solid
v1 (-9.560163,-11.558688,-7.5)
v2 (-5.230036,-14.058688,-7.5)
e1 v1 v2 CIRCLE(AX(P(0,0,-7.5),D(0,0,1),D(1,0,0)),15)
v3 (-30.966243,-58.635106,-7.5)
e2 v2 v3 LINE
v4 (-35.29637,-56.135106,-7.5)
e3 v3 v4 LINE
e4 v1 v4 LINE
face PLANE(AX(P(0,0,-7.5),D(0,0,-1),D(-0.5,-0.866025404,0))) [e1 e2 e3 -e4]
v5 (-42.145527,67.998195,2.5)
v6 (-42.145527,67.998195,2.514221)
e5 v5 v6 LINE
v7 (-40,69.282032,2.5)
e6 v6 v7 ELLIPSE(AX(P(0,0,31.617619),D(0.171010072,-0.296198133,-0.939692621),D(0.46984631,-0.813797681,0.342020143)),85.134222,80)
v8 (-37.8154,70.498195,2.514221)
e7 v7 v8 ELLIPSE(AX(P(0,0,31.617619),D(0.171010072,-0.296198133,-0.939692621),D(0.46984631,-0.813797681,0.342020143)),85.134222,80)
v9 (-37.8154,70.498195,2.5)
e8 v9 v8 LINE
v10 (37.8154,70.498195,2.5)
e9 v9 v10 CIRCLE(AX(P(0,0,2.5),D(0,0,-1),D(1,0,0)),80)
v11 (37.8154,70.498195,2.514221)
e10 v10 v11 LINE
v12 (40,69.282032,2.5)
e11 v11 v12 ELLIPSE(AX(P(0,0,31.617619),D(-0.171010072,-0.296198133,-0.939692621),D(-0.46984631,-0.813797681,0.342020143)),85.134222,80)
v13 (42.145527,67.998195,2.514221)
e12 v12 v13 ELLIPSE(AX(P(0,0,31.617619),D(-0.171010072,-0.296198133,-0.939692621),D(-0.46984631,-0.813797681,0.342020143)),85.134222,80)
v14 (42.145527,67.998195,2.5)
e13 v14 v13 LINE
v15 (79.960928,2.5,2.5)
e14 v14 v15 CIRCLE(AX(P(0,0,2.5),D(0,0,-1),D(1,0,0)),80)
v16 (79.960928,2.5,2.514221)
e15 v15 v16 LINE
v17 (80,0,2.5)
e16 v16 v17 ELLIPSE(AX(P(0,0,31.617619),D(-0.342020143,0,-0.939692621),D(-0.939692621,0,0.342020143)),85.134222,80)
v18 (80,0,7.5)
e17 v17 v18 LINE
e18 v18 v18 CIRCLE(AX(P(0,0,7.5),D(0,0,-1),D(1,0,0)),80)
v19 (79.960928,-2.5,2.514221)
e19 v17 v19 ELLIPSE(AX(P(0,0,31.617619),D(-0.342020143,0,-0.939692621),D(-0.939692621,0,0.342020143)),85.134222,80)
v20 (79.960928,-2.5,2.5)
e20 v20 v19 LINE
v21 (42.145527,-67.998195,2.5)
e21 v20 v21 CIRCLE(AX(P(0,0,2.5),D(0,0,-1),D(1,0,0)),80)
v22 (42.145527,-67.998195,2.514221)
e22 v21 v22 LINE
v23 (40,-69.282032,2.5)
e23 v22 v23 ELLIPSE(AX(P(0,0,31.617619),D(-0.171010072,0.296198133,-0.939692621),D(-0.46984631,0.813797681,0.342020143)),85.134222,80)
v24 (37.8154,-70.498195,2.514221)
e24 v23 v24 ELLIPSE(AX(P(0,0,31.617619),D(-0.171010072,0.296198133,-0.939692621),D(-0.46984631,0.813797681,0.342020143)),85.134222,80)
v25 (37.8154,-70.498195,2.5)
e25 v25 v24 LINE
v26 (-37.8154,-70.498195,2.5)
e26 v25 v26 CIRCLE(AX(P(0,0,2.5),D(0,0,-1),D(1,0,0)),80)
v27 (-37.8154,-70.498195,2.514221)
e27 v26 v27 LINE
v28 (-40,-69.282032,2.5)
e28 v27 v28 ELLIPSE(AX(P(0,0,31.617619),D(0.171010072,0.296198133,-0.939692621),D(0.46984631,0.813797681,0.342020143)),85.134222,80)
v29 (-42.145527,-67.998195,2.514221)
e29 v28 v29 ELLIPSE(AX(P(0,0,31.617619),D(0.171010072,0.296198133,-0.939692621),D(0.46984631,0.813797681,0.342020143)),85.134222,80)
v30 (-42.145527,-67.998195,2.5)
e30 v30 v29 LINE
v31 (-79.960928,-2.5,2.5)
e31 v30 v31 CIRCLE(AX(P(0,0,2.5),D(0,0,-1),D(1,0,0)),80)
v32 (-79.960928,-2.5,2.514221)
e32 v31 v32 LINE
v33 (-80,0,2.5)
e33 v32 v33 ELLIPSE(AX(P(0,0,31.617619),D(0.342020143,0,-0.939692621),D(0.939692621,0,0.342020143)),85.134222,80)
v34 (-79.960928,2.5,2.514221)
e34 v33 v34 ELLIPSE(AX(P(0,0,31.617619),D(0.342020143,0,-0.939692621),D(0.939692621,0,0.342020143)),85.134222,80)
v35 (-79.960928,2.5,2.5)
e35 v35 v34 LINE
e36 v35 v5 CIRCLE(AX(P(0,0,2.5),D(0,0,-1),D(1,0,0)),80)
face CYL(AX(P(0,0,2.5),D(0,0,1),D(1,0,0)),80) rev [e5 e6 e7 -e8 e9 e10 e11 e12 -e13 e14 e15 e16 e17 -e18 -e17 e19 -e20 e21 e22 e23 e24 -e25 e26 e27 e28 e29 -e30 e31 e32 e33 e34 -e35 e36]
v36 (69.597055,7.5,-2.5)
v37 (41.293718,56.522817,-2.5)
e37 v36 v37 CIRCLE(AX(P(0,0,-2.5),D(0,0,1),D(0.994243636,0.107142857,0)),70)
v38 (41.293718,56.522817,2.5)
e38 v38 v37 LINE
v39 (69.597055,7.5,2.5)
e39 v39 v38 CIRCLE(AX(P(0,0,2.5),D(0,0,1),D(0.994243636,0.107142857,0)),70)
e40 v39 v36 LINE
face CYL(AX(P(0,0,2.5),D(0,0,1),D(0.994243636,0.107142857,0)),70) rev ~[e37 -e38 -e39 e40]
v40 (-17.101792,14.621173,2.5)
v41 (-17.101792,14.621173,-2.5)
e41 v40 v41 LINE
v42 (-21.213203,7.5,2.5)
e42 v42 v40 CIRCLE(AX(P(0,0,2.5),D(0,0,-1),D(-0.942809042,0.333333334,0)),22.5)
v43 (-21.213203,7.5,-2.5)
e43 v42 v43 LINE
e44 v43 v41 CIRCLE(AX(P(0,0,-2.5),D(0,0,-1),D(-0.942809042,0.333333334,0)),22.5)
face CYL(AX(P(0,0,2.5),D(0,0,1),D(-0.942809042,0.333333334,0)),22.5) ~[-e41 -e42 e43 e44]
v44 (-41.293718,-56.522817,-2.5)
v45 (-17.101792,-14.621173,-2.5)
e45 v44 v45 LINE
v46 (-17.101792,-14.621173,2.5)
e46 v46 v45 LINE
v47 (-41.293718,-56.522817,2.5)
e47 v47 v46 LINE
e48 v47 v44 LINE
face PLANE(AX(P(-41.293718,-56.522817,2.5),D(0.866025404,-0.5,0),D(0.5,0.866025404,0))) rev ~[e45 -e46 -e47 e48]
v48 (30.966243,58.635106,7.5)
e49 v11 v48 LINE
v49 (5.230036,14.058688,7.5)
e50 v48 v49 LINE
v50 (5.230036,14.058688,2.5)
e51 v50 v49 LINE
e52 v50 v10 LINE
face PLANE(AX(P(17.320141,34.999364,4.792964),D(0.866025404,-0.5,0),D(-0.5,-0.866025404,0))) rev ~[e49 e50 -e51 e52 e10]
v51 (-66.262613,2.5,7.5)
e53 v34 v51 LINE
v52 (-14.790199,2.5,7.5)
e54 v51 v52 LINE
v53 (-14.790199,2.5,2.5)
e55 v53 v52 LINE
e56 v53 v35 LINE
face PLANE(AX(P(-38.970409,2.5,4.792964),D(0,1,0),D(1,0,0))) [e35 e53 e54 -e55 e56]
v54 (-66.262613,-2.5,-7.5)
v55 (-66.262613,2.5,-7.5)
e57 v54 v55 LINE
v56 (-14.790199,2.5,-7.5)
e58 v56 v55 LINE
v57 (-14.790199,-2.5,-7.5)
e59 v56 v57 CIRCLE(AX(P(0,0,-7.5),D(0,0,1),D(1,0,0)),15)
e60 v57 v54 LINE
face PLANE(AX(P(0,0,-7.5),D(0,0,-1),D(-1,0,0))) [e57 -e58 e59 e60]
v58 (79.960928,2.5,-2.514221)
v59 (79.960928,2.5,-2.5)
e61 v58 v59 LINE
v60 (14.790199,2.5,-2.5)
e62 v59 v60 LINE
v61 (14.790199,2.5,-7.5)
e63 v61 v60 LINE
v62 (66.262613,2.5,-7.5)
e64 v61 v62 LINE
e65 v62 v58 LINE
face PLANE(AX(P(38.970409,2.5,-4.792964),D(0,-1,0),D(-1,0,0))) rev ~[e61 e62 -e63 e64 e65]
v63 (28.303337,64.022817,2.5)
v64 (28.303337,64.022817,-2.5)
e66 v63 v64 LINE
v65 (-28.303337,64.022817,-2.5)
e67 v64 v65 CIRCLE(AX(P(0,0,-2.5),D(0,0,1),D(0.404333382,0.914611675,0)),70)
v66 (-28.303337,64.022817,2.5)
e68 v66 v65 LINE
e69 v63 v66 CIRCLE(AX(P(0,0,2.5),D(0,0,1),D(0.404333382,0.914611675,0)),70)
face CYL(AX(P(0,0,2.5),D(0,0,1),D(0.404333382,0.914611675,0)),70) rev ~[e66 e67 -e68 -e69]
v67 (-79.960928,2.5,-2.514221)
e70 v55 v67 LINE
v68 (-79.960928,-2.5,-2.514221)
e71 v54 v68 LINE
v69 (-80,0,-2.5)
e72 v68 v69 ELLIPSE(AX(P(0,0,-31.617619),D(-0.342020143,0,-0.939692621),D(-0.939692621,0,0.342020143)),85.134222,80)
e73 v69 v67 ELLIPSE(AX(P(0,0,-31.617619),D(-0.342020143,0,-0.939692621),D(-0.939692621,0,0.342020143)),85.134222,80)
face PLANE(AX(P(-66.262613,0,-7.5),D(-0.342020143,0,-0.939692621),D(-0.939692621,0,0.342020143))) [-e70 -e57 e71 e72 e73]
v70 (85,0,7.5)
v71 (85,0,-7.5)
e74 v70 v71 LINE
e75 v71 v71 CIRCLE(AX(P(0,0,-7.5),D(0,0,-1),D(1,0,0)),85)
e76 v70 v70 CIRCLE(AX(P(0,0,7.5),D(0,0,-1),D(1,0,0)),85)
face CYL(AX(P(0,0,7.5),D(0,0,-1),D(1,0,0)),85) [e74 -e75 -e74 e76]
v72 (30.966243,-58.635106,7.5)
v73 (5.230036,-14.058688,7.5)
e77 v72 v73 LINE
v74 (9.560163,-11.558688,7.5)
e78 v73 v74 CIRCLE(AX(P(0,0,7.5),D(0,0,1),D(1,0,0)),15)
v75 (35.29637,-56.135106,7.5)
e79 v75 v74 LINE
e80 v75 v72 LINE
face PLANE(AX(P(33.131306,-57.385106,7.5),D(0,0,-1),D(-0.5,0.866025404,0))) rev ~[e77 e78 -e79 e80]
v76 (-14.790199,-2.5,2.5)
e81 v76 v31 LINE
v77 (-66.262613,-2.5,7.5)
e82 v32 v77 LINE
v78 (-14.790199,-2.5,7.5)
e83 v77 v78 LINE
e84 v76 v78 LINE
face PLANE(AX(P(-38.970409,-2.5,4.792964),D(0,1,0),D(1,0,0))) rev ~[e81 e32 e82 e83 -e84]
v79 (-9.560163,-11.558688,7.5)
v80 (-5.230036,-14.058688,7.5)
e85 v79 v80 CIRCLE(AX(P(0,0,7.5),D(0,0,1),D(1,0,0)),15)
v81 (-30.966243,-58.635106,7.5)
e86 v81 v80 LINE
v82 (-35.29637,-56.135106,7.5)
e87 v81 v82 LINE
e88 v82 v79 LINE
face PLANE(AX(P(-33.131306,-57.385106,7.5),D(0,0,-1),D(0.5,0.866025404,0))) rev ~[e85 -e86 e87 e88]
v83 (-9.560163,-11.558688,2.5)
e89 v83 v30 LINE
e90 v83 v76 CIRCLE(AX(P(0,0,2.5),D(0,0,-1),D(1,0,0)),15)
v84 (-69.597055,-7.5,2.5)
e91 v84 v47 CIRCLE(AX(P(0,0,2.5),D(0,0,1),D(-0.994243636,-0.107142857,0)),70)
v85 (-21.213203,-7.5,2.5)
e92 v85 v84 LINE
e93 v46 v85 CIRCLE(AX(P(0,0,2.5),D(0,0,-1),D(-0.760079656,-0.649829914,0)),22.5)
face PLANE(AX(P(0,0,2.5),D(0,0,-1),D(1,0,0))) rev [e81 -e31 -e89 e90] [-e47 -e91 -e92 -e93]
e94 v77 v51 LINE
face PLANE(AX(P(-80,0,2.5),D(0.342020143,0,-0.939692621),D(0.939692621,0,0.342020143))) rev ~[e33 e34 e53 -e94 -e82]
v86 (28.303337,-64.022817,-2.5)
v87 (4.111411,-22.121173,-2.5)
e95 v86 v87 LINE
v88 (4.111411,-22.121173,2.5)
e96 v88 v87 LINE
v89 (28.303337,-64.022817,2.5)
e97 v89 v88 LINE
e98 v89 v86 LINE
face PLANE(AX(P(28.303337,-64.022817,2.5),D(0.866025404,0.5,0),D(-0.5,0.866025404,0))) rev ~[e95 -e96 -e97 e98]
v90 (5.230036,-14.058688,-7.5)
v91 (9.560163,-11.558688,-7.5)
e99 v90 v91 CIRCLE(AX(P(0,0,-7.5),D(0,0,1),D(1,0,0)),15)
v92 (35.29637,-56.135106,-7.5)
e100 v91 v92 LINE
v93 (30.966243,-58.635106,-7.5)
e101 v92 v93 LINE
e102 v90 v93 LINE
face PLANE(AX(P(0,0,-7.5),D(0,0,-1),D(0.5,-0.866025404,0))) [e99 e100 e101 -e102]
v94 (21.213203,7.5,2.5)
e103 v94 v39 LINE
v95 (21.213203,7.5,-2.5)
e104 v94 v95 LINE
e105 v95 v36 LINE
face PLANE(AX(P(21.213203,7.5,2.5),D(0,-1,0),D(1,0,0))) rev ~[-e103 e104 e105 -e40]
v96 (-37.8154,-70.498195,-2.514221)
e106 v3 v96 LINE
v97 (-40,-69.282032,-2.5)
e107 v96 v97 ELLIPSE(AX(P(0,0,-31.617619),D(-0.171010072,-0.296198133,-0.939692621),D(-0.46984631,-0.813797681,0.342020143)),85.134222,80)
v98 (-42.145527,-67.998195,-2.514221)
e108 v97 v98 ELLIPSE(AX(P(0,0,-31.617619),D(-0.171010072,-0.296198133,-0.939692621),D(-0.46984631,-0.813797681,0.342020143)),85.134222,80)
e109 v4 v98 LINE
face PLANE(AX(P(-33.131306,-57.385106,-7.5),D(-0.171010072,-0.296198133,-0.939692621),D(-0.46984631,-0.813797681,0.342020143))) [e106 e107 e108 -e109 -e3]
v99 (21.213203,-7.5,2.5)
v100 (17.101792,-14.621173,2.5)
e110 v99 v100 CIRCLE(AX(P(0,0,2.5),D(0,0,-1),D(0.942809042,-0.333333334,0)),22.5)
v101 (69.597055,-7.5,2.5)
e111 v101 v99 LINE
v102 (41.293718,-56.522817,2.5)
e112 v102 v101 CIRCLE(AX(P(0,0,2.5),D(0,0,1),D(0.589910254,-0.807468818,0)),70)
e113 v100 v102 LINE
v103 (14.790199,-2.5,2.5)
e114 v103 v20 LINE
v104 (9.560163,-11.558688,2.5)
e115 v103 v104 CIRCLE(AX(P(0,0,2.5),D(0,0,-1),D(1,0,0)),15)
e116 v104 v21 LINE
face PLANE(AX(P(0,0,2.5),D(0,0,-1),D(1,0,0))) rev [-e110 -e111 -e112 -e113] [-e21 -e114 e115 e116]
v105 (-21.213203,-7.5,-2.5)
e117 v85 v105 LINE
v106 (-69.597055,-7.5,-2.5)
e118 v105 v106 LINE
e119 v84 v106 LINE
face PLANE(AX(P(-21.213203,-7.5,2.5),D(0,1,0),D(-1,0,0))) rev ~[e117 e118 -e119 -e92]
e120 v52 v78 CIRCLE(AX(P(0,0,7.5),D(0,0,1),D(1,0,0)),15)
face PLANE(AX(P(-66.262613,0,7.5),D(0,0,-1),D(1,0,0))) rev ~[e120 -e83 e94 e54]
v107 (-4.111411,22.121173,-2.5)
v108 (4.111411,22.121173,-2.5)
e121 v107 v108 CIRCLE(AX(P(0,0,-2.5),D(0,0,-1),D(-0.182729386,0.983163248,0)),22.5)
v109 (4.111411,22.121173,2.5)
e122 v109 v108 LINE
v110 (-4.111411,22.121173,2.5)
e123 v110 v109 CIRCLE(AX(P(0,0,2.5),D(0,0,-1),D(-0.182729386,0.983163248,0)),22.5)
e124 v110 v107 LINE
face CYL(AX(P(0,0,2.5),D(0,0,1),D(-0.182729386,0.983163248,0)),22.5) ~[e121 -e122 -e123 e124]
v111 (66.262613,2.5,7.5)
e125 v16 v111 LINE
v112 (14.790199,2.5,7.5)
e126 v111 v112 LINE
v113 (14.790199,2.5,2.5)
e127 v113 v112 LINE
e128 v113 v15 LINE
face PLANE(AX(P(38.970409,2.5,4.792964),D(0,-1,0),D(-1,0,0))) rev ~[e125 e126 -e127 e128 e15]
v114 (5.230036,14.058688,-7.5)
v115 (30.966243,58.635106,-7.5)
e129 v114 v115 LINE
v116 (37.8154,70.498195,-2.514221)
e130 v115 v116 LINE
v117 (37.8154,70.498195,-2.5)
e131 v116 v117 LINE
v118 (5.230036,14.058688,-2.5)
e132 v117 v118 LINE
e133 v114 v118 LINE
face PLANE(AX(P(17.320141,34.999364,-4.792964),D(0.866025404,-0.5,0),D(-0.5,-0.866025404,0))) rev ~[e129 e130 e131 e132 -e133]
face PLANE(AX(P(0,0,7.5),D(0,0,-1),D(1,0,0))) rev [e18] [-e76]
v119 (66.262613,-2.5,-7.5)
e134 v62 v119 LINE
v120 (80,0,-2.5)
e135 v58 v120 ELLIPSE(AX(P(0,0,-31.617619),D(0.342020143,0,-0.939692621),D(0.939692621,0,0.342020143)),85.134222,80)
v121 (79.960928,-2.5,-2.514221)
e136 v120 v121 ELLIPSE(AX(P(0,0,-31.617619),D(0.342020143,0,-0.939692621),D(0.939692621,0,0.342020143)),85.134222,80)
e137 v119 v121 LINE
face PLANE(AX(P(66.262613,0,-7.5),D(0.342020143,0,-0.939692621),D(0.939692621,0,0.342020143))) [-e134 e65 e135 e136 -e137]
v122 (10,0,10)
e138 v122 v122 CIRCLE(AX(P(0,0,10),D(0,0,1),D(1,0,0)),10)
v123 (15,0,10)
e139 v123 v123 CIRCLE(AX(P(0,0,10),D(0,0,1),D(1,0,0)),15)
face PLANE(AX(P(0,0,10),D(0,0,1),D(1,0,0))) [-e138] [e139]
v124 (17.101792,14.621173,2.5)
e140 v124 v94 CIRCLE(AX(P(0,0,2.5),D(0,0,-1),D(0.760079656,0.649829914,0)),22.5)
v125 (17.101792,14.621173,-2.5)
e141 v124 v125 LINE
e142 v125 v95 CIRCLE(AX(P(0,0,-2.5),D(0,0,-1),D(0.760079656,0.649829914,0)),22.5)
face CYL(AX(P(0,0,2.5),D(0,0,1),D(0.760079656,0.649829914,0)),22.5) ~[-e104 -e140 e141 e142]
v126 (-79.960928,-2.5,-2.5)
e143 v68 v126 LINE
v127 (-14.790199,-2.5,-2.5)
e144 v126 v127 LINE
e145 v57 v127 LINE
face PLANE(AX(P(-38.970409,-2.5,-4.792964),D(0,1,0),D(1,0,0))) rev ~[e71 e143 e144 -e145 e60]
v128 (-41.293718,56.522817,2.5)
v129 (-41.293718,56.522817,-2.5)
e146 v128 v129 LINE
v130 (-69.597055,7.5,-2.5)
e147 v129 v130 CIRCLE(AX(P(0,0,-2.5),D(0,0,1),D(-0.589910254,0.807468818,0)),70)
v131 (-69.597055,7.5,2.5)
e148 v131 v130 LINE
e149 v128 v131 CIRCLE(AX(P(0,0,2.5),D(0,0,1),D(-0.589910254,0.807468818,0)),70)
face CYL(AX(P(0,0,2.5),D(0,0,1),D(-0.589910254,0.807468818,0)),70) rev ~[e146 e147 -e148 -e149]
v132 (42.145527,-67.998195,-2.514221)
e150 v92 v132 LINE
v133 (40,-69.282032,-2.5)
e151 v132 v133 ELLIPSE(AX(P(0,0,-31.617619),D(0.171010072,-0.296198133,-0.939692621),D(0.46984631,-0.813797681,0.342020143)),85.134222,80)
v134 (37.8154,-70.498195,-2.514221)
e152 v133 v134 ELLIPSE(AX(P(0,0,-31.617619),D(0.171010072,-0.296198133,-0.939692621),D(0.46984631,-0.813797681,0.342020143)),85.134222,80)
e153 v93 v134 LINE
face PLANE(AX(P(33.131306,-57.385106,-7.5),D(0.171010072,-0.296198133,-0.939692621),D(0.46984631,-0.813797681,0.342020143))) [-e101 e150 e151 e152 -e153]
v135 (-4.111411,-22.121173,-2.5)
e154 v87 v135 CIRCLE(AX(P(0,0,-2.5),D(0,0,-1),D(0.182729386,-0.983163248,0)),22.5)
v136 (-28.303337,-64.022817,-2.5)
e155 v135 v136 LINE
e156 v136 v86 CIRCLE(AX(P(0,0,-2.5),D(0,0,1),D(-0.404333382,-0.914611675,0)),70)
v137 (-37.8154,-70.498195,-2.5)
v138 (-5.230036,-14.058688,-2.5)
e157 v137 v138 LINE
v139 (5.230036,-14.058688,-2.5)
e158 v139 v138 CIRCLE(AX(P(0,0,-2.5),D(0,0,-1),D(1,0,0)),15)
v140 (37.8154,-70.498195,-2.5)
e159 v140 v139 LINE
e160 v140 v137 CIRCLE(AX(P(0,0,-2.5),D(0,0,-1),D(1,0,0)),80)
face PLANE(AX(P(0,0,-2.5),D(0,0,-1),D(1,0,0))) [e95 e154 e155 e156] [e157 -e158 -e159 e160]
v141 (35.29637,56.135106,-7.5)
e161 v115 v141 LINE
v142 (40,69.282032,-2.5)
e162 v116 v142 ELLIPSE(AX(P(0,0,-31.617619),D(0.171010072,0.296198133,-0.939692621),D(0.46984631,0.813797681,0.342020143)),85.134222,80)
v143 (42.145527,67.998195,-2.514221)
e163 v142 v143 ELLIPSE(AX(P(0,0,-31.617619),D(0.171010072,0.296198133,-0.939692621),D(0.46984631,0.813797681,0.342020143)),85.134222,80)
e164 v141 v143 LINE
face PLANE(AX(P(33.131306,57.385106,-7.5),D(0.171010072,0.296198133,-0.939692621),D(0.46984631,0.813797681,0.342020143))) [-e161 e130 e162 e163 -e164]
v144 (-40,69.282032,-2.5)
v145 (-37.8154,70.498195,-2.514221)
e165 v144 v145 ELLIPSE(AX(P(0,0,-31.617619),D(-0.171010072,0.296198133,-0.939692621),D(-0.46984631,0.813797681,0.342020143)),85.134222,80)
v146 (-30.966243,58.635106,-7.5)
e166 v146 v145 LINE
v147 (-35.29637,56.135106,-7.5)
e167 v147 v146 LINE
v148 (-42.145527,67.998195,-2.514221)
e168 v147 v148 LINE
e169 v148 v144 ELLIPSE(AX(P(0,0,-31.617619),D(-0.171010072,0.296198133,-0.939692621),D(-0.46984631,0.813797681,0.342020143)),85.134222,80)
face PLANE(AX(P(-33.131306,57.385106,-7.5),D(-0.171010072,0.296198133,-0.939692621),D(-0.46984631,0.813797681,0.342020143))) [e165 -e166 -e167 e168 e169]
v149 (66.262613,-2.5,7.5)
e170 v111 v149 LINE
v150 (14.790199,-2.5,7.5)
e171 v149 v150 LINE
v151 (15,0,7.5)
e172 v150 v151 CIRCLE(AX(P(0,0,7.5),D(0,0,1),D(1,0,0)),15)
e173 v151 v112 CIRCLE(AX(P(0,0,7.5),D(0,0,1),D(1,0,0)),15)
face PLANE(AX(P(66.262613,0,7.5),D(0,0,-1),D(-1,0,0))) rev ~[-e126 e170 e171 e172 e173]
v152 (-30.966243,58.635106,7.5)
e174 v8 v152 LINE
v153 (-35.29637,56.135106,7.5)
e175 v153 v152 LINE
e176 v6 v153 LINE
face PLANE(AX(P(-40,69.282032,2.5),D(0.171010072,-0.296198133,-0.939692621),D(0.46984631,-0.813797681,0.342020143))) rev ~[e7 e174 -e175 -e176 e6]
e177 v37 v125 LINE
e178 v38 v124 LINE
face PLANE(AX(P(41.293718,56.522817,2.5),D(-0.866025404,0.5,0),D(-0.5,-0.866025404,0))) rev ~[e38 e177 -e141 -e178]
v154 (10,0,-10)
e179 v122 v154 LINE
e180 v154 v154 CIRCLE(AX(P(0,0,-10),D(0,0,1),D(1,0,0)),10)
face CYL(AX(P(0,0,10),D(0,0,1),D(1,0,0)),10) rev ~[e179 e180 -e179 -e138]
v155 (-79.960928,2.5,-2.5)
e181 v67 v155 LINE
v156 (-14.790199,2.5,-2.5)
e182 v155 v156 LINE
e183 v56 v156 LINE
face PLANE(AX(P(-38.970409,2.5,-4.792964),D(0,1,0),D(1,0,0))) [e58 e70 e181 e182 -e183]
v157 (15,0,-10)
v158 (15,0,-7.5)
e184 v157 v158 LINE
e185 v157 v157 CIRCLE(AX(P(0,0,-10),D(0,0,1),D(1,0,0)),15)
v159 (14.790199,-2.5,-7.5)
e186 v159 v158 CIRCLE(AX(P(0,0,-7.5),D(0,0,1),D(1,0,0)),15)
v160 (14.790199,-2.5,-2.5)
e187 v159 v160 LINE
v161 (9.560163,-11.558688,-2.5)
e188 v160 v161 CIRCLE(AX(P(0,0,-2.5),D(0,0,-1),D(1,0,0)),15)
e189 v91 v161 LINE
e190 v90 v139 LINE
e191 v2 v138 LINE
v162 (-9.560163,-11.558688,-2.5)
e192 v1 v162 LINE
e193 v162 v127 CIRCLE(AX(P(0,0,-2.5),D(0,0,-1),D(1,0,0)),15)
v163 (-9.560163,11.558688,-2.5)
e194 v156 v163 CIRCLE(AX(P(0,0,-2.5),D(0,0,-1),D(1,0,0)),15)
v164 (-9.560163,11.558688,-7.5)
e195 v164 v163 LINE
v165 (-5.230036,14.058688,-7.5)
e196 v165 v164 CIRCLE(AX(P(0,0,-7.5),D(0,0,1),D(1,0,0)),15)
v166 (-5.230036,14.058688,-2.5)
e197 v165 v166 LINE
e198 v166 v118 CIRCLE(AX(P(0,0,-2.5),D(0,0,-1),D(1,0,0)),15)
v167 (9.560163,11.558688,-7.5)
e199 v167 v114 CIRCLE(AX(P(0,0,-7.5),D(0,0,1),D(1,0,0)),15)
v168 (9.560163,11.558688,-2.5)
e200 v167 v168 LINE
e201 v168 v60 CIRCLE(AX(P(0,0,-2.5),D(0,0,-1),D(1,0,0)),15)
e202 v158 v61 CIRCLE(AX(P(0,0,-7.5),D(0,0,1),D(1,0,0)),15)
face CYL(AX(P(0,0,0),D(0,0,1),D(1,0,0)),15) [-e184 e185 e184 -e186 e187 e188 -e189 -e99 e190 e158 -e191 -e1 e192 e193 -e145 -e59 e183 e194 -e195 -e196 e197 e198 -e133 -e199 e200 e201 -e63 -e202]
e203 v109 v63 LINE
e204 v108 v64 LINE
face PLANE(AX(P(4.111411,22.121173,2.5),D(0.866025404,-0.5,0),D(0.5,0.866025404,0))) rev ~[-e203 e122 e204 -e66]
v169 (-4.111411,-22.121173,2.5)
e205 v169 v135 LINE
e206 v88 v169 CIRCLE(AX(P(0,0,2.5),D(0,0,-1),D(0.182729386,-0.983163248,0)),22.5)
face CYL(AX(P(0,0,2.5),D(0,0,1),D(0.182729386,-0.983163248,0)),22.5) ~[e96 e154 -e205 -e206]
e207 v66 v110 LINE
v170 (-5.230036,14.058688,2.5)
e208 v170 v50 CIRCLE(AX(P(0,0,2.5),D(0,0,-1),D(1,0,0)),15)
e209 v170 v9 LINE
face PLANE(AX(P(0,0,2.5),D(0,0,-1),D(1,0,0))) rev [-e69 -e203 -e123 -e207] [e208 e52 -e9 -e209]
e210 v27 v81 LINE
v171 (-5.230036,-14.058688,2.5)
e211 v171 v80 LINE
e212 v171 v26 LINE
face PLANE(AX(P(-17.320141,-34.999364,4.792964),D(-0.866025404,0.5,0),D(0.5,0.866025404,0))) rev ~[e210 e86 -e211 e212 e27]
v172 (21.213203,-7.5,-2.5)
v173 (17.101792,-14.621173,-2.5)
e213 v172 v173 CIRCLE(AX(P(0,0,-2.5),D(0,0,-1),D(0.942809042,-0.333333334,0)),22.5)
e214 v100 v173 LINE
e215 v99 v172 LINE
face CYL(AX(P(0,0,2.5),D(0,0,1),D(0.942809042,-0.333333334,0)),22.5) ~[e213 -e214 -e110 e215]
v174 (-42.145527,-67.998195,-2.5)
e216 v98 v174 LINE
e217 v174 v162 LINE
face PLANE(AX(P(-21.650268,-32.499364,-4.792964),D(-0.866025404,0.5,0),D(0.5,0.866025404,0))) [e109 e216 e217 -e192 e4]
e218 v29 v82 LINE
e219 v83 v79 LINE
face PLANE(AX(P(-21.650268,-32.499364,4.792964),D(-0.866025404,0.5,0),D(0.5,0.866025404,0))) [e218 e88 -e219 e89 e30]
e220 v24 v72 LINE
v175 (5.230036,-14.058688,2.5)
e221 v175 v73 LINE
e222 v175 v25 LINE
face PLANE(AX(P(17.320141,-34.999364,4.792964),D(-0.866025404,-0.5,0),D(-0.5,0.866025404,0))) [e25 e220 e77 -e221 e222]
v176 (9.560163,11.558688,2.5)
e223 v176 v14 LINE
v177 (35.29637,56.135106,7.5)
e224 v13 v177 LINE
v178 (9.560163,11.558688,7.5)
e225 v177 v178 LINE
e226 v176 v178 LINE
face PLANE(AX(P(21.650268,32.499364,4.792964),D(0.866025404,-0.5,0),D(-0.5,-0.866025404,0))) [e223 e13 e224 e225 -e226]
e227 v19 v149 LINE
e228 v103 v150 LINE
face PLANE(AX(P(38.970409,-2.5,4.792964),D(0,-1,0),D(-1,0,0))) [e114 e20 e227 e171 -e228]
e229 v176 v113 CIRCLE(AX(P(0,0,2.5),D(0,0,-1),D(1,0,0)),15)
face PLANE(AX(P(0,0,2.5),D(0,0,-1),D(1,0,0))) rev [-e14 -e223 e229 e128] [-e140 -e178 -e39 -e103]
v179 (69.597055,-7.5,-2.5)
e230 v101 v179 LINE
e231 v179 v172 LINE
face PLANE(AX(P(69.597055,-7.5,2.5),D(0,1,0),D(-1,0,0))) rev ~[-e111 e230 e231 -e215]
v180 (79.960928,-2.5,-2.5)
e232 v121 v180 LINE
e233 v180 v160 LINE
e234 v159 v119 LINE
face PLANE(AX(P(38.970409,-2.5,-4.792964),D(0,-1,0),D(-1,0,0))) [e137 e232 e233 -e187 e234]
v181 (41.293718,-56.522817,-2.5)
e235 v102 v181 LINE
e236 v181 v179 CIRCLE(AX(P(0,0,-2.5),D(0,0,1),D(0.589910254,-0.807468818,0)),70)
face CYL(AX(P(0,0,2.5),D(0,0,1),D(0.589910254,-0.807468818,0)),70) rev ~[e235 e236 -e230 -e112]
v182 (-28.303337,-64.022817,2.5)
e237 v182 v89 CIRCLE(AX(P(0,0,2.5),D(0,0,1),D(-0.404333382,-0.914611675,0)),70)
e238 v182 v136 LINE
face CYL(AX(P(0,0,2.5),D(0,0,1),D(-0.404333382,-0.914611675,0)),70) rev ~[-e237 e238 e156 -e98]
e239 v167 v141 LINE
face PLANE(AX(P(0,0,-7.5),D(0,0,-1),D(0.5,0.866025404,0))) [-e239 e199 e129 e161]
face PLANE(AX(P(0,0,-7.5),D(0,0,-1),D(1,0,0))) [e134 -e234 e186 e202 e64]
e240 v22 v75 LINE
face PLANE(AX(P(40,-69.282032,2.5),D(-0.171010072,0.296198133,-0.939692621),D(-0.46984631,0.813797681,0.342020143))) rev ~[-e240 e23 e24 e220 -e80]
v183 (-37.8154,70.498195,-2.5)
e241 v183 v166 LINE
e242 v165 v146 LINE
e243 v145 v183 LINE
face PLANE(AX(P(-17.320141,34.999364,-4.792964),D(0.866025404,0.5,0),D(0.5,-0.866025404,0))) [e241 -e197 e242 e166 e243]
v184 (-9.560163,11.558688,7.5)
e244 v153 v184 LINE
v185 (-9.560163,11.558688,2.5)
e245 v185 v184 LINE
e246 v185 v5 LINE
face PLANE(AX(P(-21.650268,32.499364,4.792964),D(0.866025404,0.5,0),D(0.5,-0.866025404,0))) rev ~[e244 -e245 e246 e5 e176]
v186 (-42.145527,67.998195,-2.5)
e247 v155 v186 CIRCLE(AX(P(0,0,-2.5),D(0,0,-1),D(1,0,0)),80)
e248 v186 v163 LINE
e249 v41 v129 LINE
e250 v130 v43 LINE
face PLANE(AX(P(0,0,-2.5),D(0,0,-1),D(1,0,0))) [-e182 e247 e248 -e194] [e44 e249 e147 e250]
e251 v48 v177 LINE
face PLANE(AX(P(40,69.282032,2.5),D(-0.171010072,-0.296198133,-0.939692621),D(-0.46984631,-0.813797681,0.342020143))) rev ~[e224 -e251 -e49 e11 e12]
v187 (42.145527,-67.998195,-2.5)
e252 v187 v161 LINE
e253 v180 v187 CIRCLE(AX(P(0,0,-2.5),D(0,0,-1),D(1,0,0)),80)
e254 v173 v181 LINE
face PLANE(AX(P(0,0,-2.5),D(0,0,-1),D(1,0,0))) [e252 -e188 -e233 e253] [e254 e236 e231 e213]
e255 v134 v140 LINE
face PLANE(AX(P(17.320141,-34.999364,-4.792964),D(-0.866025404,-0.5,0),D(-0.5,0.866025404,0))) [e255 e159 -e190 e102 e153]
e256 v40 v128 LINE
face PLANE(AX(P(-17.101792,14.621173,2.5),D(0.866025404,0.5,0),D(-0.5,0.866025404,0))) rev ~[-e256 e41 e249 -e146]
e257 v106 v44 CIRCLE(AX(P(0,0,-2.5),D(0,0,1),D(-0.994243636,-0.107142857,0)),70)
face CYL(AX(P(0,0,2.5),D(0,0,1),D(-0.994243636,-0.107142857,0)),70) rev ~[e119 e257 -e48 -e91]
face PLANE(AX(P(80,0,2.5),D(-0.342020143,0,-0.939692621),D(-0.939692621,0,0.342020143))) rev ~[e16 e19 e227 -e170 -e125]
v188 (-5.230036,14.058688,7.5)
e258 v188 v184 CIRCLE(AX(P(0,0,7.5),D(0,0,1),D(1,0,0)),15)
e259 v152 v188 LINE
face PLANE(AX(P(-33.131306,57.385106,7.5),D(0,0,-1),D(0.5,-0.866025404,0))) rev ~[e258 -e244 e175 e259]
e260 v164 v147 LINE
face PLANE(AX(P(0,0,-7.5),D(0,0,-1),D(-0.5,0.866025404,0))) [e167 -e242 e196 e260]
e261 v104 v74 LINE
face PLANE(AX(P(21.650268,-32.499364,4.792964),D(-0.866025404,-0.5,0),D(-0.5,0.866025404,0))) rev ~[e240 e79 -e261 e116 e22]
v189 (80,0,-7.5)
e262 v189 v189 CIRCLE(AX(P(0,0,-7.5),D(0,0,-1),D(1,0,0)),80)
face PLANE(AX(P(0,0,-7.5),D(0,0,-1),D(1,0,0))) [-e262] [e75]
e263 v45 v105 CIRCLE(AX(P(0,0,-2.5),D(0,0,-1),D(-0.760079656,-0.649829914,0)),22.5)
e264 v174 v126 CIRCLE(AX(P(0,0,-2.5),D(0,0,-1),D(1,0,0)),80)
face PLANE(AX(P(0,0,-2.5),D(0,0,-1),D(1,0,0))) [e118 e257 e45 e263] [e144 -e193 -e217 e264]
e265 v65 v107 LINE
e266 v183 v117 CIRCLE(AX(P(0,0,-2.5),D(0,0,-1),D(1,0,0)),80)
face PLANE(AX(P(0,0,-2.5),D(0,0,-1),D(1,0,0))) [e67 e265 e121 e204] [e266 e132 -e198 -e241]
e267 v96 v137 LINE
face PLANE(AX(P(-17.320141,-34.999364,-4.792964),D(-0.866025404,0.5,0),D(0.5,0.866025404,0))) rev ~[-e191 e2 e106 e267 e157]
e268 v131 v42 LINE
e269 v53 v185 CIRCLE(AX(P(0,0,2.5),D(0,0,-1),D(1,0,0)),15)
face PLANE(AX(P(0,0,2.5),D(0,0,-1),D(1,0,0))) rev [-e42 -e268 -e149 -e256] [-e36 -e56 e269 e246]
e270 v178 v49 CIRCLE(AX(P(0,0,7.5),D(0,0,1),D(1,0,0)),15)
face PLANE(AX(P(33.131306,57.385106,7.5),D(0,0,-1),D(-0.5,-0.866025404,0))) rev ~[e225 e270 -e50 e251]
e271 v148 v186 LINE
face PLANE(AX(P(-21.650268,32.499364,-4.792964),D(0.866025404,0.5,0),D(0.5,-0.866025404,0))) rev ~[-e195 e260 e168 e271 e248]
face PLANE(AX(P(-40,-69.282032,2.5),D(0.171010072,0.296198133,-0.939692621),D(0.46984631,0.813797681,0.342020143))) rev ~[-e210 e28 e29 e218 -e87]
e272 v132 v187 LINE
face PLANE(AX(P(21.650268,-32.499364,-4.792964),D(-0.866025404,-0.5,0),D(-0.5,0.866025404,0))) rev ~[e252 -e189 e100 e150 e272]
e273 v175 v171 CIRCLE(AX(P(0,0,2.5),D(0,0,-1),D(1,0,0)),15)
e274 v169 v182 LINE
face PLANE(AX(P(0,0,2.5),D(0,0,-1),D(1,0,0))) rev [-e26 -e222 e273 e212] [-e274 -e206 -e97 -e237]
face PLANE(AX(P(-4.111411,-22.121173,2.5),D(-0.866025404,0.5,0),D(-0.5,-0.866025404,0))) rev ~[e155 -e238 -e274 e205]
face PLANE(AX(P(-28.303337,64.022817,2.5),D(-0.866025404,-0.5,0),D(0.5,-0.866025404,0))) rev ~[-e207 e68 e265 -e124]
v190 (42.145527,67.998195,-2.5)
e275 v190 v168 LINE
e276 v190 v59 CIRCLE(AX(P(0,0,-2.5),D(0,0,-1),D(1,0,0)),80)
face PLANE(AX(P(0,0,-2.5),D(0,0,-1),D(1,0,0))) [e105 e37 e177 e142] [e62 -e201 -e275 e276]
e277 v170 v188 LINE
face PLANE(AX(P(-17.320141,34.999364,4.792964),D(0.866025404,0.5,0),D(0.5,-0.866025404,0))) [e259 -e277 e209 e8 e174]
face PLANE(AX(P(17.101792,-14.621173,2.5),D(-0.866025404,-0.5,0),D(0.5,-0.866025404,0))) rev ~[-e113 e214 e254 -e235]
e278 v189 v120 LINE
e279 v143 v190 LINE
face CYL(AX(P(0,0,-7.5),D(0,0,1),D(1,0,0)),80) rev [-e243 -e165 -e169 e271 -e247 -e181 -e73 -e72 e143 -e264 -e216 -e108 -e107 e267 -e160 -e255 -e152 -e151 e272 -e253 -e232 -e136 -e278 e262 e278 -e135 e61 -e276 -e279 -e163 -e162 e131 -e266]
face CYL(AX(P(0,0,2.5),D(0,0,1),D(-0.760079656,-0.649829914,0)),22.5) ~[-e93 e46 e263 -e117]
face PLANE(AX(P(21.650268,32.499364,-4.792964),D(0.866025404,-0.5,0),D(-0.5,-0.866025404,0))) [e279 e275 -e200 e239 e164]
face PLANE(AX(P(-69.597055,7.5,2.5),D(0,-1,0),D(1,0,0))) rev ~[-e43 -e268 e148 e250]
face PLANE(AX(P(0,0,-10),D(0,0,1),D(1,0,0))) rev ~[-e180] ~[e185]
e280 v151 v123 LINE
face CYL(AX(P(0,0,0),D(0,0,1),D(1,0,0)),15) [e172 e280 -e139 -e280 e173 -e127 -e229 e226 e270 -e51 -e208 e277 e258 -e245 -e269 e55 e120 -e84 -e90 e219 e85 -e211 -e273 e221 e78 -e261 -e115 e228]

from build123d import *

# Parameters (mm, degrees)
SKETCH1_R           = 15
BOSS_EXTRUDE1_DEPTH = 10
BOSS_EXTRUDE9_DEPTH = 2.5
CIRPATTERN1_COUNT   = 6
CUT_EXTRUDE2_DEPTH  = 5
CIRPATTERN2_COUNT   = 6
SKETCH3_R           = 10
CUT_EXTRUDE3_DEPTH  = 25


with BuildPart() as part:
    # Sketch1 → Boss-Extrude1 (new, symmetric)
    with BuildSketch(Plane.XY):
        Circle(SKETCH1_R)
    extrude(amount=BOSS_EXTRUDE1_DEPTH, both=True)

    # Sketch2 → Revolve1 (revolve)
    with BuildSketch(Plane(origin=(0, 0, 0), x_dir=(0, 0, -1), z_dir=(1, 0, 0)), mode=Mode.PRIVATE) as revolve1_sk:
        Polygon((-2.5, 15), (-2.5, 80), (-7.5, 80), (-7.5, 85), (7.5, 85), (7.5, 80), (2.5, 80), (2.5, 15), align=None)
    revolve(revolve1_sk.sketch.rotate(Axis((0, 0, 0), (0, 0, -1)), 90), axis=Axis((0, 0, 0), (0, 0, -1)))

    # Sketch5 → Boss-Extrude9 (add, symmetric)
    with BuildSketch(Plane(origin=(0, 0, 0), x_dir=(1, 0, 0), z_dir=(0, 1, 0))):
        Polygon((0, -2.5), (-80, -2.5), (-66.262612903, -7.5), (0, -7.5), align=None)
        Polygon((0, 7.5), (-66.262612903, 7.5), (-80, 2.5), (0, 2.5), align=None)
    boss_extrude9 = extrude(amount=BOSS_EXTRUDE9_DEPTH, both=True)

    # CirPattern1: Boss-Extrude9 ×6 about axis
    cirpattern1_axis = Axis((0, 0, 0), (0, 0, 1))
    for i in range(1, CIRPATTERN1_COUNT):
        add(boss_extrude9.rotate(cirpattern1_axis, i * 360 / CIRPATTERN1_COUNT))

    # Sketch6 → Cut-Extrude2 (cut)
    with BuildSketch(Plane.XY.offset(2.5)):
        with BuildLine():
            Line((-17.101792246, 14.621173071), (-41.293717796, 56.522817256))
            ThreePointArc((-41.293717796, 56.522817256), (-60.621778265, 35), (-69.597054535, 7.5))
            Line((-69.597054535, 7.5), (-21.213203436, 7.5))
            ThreePointArc((-21.213203436, 7.5), (-19.485571585, 11.25), (-17.101792246, 14.621173071))
        make_face()
    cut_extrude2 = extrude(amount=-CUT_EXTRUDE2_DEPTH, mode=Mode.SUBTRACT)

    # CirPattern2: Cut-Extrude2 ×6 about axis
    cirpattern2_axis = Axis((0, 0, 0), (0, 0, 1))
    for i in range(1, CIRPATTERN2_COUNT):
        add(cut_extrude2.rotate(cirpattern2_axis, i * 360 / CIRPATTERN2_COUNT), mode=Mode.SUBTRACT)

    # Sketch3 → Cut-Extrude3 (cut)
    with BuildSketch(Plane.XY.offset(10)):
        Circle(SKETCH3_R)
    extrude(amount=-CUT_EXTRUDE3_DEPTH, mode=Mode.SUBTRACT)


solid = part.part
